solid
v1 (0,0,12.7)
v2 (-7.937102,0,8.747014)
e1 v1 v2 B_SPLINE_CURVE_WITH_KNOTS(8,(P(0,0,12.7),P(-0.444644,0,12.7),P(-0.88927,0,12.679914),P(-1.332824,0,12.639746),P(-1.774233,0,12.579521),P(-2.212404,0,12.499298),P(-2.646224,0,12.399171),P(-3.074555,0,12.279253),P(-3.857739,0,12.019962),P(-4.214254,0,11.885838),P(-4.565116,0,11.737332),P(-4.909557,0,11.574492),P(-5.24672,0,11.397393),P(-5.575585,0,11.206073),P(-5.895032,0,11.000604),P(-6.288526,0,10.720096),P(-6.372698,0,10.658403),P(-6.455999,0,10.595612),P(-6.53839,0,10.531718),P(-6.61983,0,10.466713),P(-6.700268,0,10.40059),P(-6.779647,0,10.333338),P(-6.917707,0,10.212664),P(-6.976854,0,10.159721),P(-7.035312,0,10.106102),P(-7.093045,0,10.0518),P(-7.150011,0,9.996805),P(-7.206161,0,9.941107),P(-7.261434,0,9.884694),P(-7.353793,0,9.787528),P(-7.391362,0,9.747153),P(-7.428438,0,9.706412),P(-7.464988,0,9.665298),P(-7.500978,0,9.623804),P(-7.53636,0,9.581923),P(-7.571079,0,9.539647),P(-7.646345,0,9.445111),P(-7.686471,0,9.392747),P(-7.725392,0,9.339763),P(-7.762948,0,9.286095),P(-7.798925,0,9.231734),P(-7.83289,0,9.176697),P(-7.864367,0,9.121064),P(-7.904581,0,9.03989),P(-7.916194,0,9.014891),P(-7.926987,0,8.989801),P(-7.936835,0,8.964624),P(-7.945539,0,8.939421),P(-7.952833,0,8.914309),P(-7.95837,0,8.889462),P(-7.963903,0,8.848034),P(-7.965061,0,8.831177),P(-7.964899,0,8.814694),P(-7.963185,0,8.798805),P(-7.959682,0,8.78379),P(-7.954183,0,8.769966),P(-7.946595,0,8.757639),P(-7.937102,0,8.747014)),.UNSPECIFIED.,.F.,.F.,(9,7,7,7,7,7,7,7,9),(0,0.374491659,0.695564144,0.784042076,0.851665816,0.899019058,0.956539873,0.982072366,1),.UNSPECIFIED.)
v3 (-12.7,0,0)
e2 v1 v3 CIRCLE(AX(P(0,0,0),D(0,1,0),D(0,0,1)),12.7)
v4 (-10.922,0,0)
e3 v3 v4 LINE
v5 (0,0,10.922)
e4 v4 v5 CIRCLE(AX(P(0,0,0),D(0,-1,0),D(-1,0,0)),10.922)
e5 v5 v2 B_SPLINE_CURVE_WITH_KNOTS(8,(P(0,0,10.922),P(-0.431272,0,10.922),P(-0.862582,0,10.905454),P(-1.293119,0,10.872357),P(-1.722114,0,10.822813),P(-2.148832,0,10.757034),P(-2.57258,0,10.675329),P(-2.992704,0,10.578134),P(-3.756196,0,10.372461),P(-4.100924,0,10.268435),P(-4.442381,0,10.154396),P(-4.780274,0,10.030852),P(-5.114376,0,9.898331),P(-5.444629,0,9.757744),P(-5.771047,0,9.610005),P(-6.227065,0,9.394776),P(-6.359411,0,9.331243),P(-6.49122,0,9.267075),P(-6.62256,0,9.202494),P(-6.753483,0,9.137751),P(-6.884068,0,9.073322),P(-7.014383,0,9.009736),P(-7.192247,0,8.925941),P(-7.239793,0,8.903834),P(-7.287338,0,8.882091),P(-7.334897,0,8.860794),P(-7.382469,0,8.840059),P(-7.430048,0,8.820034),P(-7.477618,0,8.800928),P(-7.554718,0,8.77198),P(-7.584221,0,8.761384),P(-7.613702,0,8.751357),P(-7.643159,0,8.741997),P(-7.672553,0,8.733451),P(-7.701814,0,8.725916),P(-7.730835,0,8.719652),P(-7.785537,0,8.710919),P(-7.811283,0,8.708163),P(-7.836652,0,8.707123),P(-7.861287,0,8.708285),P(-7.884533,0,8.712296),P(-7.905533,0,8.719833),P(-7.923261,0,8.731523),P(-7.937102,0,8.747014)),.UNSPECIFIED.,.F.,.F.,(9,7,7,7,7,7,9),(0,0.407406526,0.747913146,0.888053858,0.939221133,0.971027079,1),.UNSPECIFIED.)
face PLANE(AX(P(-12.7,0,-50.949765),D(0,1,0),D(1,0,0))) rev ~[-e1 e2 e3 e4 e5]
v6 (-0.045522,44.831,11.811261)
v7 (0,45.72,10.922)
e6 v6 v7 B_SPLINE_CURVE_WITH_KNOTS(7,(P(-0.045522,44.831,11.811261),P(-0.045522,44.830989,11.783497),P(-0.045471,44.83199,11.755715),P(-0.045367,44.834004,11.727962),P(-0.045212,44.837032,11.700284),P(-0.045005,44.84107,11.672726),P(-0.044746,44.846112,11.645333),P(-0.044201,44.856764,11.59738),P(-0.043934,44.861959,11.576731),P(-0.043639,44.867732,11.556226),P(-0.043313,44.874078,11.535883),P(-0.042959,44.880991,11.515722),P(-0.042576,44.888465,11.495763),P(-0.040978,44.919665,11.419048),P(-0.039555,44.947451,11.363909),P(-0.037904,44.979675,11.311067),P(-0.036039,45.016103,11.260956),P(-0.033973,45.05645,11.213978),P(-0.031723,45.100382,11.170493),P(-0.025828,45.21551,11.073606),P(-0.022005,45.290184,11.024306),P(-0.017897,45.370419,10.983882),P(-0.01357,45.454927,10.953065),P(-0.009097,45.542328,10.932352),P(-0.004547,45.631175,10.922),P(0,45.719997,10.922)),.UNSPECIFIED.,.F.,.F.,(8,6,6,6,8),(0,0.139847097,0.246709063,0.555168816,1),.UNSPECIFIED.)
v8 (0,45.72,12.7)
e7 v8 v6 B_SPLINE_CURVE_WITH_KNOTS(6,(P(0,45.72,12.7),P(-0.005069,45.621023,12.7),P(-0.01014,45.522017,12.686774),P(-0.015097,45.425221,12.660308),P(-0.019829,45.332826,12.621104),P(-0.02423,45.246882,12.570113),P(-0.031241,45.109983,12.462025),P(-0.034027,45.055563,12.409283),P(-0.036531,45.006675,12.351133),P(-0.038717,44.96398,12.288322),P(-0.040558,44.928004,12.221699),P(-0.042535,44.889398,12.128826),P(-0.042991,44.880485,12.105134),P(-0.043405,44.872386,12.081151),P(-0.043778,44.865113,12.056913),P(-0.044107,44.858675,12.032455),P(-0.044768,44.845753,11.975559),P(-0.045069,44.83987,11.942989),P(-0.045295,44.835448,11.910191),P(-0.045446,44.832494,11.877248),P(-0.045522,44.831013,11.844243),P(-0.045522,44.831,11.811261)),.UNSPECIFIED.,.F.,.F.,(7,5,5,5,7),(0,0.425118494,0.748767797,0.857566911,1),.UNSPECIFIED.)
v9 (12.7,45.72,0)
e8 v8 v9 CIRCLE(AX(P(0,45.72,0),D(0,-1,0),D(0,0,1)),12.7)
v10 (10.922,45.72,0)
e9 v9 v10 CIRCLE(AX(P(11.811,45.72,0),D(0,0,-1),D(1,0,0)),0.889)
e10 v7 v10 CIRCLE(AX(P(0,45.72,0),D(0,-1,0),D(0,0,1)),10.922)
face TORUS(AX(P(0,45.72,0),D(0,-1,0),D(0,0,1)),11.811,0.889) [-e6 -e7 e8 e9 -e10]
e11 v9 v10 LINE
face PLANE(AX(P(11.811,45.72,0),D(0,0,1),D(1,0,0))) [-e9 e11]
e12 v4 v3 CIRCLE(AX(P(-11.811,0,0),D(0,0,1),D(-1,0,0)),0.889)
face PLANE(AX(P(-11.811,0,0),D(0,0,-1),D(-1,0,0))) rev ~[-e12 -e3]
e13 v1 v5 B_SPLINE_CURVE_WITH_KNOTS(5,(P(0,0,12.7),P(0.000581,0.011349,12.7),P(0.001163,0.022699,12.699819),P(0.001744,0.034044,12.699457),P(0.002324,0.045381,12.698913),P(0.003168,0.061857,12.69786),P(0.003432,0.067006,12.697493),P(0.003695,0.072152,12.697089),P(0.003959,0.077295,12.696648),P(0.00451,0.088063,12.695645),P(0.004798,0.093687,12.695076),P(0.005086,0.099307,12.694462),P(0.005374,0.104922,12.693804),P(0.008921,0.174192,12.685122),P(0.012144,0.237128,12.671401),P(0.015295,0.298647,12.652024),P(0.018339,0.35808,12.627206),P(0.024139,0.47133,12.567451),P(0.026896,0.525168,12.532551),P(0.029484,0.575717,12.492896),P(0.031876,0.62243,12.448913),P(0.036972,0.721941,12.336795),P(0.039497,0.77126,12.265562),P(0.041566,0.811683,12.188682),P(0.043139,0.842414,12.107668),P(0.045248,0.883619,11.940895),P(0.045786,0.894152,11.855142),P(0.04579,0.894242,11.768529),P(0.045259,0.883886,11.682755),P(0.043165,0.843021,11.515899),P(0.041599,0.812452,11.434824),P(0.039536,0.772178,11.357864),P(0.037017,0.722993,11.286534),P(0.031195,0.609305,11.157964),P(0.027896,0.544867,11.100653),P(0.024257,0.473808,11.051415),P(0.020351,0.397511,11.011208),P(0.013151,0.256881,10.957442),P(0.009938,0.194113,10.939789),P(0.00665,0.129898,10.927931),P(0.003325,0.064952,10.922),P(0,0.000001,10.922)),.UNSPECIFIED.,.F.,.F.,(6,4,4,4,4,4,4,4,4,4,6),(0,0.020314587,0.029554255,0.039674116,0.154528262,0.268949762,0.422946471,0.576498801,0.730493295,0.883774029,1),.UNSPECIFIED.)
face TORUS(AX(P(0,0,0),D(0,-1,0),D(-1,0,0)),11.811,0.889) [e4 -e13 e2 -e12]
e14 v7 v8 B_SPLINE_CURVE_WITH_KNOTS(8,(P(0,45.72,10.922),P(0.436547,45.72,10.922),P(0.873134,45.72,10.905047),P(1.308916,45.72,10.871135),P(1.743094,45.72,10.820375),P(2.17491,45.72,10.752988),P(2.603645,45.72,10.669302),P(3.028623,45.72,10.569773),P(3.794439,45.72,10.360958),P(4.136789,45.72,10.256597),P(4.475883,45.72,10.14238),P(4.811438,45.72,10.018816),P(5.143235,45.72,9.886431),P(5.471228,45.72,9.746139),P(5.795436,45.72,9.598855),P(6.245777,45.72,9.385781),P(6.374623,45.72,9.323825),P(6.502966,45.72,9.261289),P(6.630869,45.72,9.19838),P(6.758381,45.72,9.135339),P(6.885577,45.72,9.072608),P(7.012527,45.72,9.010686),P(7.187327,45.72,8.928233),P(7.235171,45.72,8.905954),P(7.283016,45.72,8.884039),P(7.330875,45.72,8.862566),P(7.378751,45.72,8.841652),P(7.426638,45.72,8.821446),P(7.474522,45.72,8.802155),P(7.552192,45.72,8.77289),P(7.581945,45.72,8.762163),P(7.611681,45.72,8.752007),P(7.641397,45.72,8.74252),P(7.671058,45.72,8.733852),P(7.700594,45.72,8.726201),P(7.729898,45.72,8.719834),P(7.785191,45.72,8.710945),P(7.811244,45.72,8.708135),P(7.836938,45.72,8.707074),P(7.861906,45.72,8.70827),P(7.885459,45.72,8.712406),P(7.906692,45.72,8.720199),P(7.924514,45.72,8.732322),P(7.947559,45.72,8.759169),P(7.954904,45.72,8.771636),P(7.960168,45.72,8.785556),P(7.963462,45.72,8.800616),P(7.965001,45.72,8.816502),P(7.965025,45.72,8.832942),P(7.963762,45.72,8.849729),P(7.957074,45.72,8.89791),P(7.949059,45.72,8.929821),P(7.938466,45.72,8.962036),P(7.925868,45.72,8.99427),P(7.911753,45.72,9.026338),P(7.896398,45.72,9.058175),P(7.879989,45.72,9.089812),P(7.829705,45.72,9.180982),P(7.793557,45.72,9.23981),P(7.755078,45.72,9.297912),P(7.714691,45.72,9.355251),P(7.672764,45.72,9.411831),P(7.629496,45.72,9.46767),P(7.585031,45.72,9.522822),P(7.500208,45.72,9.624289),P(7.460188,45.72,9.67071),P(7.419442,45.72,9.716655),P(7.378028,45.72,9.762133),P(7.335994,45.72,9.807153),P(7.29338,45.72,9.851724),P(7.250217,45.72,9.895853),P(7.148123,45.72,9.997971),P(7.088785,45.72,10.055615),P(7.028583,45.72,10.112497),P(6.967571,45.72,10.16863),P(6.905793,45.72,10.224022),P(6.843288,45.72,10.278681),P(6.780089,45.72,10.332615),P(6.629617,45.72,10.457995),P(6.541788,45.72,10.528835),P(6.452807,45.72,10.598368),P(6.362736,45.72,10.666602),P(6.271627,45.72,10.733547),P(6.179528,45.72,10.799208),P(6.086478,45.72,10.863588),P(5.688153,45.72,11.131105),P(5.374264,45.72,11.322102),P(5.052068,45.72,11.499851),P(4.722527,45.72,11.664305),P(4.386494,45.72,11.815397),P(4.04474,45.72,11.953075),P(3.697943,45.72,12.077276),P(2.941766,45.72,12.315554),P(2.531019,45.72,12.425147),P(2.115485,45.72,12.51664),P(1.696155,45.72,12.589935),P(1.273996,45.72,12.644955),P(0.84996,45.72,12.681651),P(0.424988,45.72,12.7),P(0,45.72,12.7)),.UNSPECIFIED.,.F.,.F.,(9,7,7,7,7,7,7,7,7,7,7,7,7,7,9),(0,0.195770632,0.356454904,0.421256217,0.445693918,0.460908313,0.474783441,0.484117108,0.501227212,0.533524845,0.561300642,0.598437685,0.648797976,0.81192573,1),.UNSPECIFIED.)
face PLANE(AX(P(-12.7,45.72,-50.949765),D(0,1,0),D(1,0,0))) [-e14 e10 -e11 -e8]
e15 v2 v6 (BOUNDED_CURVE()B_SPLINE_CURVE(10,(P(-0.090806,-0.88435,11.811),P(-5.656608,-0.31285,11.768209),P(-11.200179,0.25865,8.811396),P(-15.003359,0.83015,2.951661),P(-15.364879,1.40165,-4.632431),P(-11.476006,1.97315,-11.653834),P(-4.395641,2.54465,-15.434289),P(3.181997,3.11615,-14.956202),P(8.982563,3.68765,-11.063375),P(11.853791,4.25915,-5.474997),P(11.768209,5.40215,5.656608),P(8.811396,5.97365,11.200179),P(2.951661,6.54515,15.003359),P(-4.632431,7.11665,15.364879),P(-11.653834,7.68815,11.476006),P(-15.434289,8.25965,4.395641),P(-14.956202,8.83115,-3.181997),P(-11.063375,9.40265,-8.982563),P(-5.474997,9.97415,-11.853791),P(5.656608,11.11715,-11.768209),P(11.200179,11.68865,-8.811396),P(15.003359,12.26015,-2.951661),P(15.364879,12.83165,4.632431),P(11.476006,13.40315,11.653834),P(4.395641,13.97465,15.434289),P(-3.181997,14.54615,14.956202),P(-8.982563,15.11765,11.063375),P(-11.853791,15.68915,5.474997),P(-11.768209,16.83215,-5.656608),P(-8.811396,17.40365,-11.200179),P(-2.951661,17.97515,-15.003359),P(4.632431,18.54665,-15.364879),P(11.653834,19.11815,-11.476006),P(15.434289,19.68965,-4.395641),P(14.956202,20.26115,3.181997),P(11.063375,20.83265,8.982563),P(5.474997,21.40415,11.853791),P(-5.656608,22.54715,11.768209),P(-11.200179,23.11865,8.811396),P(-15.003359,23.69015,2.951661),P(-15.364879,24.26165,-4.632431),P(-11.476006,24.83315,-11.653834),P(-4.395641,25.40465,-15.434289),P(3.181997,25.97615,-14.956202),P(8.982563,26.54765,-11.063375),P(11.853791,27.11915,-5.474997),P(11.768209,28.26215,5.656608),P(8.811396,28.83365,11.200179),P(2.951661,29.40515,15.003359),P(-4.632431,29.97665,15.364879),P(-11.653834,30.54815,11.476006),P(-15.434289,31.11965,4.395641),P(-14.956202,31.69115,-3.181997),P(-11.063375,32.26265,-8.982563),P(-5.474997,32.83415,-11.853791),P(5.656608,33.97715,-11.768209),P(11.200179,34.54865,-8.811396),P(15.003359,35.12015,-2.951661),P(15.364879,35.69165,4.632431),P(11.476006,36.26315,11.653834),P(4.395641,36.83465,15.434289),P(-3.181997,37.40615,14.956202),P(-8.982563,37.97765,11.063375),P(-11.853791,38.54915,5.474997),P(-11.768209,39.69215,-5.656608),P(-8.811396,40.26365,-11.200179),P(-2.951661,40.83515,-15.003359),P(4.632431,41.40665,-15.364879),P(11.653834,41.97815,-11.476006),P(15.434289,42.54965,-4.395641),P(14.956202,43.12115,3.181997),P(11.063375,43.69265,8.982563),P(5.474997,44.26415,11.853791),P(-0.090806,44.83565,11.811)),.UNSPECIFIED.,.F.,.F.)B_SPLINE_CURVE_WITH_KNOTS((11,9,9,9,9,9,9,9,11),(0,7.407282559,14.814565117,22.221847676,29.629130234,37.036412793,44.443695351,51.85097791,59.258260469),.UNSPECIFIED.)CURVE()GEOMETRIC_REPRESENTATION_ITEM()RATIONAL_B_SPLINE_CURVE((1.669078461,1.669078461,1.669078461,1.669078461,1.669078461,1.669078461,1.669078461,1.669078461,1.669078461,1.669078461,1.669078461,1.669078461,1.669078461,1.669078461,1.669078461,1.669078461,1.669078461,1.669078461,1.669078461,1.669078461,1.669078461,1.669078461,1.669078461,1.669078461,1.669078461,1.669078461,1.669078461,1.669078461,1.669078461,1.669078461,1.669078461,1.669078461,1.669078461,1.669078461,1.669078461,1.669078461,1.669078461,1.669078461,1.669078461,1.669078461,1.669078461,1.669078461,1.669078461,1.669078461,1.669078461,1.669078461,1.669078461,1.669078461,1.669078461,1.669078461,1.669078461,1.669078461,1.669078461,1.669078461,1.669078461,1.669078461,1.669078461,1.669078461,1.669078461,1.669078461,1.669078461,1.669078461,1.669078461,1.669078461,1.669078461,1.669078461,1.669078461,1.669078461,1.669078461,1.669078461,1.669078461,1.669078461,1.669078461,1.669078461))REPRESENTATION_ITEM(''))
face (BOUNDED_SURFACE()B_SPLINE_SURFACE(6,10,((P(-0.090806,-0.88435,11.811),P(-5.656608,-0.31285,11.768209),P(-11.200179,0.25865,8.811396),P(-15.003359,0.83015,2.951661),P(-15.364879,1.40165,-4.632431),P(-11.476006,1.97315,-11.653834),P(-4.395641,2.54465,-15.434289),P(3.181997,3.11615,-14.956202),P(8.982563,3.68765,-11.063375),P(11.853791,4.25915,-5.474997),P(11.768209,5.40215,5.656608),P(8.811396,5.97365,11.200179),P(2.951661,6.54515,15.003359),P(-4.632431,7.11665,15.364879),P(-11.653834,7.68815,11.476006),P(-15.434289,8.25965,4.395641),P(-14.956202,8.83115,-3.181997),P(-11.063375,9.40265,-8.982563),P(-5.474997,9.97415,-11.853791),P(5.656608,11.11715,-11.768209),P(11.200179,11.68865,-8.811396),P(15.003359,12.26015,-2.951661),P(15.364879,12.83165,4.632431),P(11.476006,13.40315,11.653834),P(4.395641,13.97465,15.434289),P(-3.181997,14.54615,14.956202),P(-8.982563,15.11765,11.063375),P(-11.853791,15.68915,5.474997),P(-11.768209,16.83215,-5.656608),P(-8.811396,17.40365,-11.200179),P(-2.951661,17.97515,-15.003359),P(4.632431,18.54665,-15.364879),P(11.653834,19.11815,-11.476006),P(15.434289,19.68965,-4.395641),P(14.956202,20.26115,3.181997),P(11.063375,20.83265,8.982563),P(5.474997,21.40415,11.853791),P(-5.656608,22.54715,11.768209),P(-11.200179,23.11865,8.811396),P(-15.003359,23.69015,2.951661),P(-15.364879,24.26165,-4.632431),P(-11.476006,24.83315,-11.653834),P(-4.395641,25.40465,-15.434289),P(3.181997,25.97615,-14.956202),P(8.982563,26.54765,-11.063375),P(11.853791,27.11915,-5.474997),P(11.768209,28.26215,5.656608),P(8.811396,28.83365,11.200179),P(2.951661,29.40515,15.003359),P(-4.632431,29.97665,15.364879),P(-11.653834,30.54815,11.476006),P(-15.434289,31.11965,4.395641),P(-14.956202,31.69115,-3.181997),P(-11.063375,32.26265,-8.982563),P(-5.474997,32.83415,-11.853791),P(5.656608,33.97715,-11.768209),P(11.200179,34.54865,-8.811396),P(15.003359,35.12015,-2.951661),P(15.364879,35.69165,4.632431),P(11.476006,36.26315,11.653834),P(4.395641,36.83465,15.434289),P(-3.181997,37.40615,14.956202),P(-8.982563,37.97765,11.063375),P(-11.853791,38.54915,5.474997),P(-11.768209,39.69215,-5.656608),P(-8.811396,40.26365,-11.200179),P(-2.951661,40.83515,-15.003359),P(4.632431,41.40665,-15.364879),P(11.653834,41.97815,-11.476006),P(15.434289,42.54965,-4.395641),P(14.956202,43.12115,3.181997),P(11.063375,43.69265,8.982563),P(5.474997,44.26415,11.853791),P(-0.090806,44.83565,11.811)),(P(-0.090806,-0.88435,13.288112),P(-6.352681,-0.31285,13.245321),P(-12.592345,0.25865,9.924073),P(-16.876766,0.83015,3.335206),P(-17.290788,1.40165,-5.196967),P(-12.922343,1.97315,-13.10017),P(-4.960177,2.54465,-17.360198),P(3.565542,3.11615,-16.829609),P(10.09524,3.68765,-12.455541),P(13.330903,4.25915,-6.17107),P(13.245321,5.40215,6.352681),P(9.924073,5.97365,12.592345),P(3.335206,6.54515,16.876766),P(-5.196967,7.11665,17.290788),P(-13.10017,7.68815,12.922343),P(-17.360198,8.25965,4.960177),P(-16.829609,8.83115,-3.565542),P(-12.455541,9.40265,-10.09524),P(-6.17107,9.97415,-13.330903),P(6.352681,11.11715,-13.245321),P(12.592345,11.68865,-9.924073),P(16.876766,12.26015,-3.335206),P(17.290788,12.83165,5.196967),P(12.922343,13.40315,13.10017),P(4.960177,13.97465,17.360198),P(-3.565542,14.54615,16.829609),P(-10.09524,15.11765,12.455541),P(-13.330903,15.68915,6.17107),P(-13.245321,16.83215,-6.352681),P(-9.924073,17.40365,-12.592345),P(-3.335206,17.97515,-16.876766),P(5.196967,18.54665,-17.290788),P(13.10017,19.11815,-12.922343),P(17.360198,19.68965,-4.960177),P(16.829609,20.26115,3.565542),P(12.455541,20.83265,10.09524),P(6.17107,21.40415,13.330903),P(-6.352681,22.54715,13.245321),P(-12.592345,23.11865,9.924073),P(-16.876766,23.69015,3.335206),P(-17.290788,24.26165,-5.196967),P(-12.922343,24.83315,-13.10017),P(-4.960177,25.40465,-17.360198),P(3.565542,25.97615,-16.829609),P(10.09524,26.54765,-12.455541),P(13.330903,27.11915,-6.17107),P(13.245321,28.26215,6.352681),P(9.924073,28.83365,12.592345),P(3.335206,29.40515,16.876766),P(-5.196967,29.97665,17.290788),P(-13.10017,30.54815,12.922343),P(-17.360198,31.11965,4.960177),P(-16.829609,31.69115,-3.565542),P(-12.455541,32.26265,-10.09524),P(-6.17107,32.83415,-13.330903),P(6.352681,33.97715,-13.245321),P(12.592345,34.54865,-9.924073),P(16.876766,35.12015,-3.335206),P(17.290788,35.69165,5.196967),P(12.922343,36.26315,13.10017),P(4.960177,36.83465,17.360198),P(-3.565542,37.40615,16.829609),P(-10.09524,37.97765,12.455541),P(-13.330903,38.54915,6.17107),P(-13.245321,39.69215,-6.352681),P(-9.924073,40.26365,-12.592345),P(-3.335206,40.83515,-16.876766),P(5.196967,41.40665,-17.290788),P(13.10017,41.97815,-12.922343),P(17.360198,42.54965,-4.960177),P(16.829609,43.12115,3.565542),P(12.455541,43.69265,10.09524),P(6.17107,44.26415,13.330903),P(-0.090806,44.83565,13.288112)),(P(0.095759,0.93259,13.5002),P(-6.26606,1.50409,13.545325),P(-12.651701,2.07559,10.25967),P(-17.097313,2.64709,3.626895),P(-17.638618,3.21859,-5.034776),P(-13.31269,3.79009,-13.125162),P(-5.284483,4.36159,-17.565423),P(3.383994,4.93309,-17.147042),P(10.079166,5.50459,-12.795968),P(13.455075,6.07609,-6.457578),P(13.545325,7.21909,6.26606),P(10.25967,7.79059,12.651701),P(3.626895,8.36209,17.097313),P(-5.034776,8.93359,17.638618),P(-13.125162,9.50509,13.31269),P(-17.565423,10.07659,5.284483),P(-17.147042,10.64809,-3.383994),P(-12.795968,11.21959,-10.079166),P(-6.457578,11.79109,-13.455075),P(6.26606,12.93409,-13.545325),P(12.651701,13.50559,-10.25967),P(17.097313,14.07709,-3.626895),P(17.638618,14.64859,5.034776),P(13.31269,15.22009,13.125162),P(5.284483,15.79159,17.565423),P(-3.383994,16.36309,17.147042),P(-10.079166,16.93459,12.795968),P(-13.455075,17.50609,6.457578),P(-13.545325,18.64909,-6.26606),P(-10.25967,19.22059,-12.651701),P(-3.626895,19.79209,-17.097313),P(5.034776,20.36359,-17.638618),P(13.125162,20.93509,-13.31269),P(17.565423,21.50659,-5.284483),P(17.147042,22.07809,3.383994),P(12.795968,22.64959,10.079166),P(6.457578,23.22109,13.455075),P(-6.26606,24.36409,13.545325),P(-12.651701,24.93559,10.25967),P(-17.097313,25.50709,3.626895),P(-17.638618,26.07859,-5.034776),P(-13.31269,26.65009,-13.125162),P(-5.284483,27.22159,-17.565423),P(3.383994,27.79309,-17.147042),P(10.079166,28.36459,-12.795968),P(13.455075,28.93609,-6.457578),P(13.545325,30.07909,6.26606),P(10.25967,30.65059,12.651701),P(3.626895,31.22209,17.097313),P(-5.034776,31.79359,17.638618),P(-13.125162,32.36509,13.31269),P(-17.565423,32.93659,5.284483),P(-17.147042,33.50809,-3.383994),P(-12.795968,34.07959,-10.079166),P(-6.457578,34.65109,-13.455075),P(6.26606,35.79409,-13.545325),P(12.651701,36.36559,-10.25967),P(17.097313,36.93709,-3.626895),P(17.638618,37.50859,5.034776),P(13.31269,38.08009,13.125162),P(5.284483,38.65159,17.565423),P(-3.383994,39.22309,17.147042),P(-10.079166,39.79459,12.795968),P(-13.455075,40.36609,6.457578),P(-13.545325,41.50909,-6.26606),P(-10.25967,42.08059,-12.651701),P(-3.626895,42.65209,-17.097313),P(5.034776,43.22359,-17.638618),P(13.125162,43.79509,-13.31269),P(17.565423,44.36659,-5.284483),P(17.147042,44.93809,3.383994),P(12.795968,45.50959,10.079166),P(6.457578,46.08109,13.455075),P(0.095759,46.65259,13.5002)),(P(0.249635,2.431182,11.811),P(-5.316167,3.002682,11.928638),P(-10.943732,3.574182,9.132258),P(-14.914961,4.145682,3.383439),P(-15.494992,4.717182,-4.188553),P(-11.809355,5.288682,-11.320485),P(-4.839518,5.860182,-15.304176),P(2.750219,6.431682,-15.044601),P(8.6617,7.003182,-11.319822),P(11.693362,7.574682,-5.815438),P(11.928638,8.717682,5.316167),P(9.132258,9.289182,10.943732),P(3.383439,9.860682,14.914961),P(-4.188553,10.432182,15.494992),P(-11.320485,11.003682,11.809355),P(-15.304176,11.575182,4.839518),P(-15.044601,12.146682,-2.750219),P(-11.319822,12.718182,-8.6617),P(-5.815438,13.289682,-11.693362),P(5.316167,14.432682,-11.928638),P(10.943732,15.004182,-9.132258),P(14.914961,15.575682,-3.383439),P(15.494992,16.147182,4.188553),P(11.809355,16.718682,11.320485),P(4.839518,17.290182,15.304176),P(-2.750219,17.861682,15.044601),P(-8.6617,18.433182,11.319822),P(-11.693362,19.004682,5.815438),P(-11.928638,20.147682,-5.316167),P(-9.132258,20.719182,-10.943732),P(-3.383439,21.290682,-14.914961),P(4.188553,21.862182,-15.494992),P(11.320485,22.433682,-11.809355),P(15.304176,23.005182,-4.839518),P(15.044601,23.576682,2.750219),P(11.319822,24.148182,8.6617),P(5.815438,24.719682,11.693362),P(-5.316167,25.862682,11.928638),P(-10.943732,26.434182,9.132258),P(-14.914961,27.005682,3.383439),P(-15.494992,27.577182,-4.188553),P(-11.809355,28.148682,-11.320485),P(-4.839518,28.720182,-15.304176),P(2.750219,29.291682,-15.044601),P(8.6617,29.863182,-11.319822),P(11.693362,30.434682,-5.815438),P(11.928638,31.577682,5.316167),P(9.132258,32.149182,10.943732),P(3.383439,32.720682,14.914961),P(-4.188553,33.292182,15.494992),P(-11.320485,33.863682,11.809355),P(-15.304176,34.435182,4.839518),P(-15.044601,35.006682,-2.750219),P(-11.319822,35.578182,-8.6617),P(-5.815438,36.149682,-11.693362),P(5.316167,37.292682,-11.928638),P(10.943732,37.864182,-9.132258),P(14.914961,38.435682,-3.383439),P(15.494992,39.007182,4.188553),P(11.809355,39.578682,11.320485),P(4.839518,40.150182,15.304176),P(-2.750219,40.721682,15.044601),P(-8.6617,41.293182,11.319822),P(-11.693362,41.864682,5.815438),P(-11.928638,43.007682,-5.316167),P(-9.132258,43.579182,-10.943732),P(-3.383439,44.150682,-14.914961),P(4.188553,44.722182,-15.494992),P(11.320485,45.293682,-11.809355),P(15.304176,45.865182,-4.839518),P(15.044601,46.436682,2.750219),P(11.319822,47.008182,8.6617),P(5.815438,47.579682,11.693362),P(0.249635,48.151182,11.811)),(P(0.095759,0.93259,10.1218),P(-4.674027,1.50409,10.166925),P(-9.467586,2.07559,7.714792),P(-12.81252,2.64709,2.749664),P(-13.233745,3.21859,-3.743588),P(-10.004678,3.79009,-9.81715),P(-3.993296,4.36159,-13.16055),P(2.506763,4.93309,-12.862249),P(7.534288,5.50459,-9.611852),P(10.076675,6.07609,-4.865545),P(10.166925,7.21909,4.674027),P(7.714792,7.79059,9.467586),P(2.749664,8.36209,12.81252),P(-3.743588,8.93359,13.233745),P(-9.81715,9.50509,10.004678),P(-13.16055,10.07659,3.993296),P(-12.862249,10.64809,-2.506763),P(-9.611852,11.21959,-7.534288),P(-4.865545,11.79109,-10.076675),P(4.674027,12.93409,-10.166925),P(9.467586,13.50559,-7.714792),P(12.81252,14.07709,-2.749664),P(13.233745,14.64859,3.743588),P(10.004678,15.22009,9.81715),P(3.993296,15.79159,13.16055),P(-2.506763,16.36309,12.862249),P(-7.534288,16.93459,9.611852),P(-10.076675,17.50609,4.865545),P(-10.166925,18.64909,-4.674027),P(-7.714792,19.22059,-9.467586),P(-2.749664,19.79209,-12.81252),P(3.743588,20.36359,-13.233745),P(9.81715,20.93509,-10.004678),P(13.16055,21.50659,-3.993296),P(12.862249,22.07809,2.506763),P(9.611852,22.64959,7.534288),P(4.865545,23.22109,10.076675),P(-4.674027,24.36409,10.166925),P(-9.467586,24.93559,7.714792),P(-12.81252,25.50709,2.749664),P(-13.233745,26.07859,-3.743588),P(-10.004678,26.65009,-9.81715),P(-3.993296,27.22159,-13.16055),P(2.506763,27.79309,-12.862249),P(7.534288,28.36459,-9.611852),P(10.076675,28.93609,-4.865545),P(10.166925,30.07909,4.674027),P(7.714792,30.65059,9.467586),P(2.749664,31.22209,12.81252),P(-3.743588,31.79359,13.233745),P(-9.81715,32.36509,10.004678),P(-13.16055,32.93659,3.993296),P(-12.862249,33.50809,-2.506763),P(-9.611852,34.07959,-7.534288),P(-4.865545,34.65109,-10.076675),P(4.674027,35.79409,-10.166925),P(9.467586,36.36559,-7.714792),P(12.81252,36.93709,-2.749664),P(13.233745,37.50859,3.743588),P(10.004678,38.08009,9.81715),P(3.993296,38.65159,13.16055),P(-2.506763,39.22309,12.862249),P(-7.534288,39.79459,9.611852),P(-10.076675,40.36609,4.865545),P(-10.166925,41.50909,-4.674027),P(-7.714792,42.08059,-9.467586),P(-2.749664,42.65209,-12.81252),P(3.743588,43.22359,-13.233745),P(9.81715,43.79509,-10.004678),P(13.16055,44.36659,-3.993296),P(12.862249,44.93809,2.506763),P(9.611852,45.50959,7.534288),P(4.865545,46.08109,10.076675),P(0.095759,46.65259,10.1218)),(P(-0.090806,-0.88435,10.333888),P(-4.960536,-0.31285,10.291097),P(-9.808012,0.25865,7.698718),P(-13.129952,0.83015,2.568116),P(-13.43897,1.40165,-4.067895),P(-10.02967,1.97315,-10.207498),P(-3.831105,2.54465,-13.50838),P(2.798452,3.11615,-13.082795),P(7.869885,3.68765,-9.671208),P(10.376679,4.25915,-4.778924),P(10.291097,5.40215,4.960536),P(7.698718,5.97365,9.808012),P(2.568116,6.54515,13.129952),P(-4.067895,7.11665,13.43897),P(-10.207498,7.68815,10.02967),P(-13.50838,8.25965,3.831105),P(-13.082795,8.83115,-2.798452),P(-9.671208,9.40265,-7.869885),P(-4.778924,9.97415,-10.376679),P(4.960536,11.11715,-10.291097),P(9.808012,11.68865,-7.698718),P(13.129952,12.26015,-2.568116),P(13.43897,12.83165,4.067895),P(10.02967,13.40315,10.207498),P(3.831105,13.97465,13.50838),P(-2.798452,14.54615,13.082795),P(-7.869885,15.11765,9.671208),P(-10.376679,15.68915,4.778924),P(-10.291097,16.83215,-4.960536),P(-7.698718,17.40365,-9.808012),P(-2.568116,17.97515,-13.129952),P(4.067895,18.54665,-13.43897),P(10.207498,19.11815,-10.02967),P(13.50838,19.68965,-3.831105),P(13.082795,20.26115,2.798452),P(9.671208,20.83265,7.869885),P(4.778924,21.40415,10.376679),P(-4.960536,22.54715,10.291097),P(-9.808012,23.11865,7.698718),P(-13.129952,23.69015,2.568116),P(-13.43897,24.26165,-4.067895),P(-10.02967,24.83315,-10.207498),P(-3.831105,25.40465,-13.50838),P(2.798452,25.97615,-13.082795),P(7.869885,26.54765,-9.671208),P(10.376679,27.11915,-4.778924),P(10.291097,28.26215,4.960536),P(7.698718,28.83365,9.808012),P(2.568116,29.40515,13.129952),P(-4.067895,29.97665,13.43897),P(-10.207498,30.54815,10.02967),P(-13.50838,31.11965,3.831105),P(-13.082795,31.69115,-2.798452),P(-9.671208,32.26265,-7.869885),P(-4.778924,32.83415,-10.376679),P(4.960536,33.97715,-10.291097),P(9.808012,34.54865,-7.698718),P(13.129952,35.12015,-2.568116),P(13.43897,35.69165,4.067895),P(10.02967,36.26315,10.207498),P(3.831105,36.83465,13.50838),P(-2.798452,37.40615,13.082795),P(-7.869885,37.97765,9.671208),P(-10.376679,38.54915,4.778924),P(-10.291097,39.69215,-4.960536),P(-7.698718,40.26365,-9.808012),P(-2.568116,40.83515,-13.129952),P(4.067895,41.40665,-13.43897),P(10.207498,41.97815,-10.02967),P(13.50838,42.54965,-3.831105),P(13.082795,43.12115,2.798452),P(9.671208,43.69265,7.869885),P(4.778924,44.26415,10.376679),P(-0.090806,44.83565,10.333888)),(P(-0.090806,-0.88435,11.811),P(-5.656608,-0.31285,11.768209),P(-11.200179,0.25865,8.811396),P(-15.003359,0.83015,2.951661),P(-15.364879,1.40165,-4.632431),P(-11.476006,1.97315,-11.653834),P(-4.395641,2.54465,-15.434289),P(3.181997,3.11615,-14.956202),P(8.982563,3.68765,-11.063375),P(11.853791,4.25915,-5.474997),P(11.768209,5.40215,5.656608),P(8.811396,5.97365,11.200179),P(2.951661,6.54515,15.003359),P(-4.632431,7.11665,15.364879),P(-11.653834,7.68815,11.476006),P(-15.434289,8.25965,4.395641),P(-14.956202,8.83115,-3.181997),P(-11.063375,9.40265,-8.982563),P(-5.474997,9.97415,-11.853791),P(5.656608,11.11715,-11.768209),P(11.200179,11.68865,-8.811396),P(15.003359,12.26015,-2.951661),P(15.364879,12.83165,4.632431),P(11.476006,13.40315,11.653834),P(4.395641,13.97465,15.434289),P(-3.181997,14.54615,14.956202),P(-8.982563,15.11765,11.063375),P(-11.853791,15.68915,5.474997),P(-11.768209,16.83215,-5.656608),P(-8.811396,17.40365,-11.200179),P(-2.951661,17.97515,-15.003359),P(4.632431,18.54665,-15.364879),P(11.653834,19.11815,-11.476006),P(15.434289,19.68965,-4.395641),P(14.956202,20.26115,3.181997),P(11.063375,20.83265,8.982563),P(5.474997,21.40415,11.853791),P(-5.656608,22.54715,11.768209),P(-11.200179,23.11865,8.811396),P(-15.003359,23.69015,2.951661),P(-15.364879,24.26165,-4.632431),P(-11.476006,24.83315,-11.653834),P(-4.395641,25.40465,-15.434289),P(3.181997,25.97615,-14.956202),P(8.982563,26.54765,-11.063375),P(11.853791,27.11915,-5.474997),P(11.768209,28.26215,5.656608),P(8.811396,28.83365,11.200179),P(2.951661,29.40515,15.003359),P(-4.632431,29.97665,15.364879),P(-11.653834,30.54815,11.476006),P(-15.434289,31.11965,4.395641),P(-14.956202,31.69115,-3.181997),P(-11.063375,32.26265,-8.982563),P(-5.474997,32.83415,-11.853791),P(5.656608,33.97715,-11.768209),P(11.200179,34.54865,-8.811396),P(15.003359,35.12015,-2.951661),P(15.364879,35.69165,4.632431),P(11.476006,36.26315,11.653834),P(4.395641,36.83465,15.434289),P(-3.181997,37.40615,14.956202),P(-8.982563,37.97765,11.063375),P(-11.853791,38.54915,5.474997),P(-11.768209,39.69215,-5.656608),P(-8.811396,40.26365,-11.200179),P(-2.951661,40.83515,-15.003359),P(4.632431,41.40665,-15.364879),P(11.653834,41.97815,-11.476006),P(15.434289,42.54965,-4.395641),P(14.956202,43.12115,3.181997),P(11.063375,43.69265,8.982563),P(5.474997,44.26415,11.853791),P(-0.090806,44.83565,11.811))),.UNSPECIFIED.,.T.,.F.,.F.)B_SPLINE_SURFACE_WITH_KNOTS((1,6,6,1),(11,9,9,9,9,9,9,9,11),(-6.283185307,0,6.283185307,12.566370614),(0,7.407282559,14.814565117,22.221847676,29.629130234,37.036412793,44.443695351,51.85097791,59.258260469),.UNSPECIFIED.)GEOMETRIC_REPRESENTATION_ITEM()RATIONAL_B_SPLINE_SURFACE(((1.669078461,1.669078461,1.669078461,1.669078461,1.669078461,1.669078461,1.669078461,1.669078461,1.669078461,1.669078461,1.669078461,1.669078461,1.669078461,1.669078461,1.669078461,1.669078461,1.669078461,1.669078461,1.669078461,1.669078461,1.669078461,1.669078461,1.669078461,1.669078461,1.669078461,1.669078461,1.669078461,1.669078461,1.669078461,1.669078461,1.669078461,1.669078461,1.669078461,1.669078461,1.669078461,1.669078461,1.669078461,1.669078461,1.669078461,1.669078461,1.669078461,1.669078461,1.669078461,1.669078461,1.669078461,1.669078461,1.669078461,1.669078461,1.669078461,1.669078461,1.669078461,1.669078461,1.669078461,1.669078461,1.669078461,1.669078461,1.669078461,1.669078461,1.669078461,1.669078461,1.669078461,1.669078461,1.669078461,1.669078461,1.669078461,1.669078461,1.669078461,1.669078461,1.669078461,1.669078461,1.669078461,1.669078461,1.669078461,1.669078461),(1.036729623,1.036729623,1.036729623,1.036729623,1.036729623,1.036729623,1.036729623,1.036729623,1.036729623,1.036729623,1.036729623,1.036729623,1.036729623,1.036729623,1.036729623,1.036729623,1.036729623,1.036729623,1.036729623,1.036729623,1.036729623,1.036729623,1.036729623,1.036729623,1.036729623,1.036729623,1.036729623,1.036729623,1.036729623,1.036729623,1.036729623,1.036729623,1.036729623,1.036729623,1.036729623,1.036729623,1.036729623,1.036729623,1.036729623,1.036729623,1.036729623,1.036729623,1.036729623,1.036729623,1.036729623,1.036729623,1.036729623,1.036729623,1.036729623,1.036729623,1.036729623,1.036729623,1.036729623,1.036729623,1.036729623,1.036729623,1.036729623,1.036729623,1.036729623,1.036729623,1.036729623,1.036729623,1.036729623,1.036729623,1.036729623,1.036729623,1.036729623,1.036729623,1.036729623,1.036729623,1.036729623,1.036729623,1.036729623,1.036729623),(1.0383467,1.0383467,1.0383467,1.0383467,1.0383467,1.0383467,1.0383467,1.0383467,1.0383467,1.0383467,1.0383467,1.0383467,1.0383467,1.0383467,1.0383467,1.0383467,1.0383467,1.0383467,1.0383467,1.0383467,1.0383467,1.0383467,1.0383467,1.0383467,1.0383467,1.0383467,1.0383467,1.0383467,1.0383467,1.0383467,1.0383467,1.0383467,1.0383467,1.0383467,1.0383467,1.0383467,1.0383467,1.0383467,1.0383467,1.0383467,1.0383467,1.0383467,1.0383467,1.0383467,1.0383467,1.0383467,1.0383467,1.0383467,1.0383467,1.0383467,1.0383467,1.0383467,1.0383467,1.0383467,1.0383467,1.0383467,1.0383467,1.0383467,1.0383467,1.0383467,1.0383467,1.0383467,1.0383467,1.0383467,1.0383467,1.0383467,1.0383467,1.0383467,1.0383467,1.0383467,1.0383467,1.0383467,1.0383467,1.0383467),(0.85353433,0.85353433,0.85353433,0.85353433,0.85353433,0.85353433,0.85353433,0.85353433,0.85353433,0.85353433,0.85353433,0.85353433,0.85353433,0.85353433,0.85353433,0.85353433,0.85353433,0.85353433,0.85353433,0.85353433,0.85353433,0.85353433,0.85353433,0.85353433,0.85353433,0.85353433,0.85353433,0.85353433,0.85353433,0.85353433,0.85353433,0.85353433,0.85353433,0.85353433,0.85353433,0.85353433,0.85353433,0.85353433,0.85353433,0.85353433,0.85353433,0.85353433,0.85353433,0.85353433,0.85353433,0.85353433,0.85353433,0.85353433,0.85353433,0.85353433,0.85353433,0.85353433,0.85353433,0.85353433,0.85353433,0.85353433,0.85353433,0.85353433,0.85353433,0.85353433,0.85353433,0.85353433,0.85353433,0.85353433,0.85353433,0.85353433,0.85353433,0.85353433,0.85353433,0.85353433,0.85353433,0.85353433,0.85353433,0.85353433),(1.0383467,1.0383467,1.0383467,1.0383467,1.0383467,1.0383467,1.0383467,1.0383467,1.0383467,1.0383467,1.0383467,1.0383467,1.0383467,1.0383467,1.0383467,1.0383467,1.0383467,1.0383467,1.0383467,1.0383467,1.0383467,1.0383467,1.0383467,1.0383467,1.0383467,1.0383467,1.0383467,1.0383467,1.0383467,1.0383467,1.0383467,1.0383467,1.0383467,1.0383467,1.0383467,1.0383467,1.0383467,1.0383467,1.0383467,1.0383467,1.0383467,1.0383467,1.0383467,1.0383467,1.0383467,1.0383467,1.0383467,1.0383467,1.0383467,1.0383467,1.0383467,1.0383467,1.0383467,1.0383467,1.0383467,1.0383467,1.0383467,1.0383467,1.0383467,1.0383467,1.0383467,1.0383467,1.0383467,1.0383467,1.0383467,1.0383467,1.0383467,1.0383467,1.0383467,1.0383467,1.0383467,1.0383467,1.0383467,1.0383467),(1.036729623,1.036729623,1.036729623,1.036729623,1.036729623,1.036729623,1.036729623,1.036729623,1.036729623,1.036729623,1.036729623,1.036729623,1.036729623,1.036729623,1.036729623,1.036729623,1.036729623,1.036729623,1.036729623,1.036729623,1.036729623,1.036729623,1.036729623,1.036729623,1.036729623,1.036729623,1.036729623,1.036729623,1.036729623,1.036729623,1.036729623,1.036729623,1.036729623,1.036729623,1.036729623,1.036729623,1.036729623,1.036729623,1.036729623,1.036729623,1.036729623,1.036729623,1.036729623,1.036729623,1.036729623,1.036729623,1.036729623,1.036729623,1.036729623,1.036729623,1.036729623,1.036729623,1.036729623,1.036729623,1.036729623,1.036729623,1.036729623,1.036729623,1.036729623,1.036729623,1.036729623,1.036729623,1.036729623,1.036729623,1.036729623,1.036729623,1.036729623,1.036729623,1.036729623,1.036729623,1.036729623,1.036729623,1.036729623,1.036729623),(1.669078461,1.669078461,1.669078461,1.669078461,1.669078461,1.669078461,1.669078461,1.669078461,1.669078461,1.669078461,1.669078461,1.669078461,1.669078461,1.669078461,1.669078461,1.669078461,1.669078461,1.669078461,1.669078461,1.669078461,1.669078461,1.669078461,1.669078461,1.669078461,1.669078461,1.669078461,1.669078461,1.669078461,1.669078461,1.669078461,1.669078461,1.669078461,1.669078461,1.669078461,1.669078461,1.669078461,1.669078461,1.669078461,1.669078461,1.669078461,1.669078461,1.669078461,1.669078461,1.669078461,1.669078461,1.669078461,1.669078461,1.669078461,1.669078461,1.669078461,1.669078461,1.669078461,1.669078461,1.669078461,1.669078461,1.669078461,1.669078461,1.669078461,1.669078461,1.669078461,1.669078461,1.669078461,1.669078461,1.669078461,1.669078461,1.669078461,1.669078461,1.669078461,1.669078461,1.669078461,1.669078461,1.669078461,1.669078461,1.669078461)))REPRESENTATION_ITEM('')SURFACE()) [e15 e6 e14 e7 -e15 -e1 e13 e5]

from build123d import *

# Parameters (mm, degrees)
SWEEP1_PROFILE_R        = 0.889
SWEEP2_PROFILE_R        = 0.889
SWEEP3_PITCH            = 7.62
SWEEP3_HEIGHT           = 45.72
SWEEP3_RADIUS           = 11.811
SWEEP3_PROFILE_R        = 0.889
CUT_EXTRUDE1_DEPTH      = 50.949764765
CUT_EXTRUDE1_DEPTH_BACK = 50.949764765
SKETCH4_W               = 25.4
SKETCH4_H               = 3.81


with BuildPart() as part:
    # Sweep1: sweep along a path in Sketch3
    with BuildLine(Plane(origin=(0, 45.72, 0), x_dir=(1, 0, 0), z_dir=(0, 1, 0))) as sweep1_path:
        ThreePointArc((0, -11.811), (-8.351638193, 8.351638193), (11.811, 0))
    # Sweep1 profile (on start of the path) → Sweep1 (sweep)
    with BuildSketch(Plane(origin=(0, 45.72, 11.811), x_dir=(0, 0, -1), z_dir=(-1, 0, 0))):
        Circle(SWEEP1_PROFILE_R)
    sweep(path=sweep1_path.line)



with BuildPart() as body_2:
    # Sweep2: sweep along a path in Sketch2
    with BuildLine(Plane(origin=(0, 0, 0), x_dir=(1, 0, 0), z_dir=(0, 1, 0))) as sweep2_path:
        ThreePointArc((-11.811, 0), (8.351638193, 8.351638193), (0, -11.811))
    # Sweep2 profile (on start of the path) → Sweep2 (sweep)
    with BuildSketch(Plane(origin=(-11.811, 0, 0), x_dir=(-1, 0, 0), z_dir=(0, 0, -1))):
        Circle(SWEEP2_PROFILE_R)
    sweep(path=sweep2_path.line)


with BuildPart() as part_1:
    add(part.part)

    add(body_2.part)  # Sweep3 merges body 2
    # Sweep3: sweep along a helix
    with BuildLine() as sweep3_path:
        Helix(SWEEP3_PITCH, SWEEP3_HEIGHT, SWEEP3_RADIUS, center=(0, 0, 0), direction=(0, 1, 0), lefthand=True)
    # Sweep3 profile (on start of the path) → Sweep3 (sweep)
    with BuildSketch(Plane(origin=(0, 0, 11.811), x_dir=(-0.10214355486825902, -0.9947696689178229, 0), z_dir=(-0.9947696689178229, 0.10214355486825902, 8.050999414777835e-13))):
        Circle(SWEEP3_PROFILE_R)
    sweep(path=sweep3_path.line, is_frenet=True)

    # Sketch4 → Cut-Extrude1 (cut, two sides: drawn at the far end of the back side and taken through both)
    with BuildSketch(Plane.XY.offset(-CUT_EXTRUDE1_DEPTH_BACK)):
        with Locations((0, -1.905)):
            Rectangle(SKETCH4_W, SKETCH4_H)
        with Locations((0, 47.625)):
            Rectangle(SKETCH4_W, SKETCH4_H)
    extrude(amount=CUT_EXTRUDE1_DEPTH + CUT_EXTRUDE1_DEPTH_BACK, mode=Mode.SUBTRACT)


solid = part_1.part
